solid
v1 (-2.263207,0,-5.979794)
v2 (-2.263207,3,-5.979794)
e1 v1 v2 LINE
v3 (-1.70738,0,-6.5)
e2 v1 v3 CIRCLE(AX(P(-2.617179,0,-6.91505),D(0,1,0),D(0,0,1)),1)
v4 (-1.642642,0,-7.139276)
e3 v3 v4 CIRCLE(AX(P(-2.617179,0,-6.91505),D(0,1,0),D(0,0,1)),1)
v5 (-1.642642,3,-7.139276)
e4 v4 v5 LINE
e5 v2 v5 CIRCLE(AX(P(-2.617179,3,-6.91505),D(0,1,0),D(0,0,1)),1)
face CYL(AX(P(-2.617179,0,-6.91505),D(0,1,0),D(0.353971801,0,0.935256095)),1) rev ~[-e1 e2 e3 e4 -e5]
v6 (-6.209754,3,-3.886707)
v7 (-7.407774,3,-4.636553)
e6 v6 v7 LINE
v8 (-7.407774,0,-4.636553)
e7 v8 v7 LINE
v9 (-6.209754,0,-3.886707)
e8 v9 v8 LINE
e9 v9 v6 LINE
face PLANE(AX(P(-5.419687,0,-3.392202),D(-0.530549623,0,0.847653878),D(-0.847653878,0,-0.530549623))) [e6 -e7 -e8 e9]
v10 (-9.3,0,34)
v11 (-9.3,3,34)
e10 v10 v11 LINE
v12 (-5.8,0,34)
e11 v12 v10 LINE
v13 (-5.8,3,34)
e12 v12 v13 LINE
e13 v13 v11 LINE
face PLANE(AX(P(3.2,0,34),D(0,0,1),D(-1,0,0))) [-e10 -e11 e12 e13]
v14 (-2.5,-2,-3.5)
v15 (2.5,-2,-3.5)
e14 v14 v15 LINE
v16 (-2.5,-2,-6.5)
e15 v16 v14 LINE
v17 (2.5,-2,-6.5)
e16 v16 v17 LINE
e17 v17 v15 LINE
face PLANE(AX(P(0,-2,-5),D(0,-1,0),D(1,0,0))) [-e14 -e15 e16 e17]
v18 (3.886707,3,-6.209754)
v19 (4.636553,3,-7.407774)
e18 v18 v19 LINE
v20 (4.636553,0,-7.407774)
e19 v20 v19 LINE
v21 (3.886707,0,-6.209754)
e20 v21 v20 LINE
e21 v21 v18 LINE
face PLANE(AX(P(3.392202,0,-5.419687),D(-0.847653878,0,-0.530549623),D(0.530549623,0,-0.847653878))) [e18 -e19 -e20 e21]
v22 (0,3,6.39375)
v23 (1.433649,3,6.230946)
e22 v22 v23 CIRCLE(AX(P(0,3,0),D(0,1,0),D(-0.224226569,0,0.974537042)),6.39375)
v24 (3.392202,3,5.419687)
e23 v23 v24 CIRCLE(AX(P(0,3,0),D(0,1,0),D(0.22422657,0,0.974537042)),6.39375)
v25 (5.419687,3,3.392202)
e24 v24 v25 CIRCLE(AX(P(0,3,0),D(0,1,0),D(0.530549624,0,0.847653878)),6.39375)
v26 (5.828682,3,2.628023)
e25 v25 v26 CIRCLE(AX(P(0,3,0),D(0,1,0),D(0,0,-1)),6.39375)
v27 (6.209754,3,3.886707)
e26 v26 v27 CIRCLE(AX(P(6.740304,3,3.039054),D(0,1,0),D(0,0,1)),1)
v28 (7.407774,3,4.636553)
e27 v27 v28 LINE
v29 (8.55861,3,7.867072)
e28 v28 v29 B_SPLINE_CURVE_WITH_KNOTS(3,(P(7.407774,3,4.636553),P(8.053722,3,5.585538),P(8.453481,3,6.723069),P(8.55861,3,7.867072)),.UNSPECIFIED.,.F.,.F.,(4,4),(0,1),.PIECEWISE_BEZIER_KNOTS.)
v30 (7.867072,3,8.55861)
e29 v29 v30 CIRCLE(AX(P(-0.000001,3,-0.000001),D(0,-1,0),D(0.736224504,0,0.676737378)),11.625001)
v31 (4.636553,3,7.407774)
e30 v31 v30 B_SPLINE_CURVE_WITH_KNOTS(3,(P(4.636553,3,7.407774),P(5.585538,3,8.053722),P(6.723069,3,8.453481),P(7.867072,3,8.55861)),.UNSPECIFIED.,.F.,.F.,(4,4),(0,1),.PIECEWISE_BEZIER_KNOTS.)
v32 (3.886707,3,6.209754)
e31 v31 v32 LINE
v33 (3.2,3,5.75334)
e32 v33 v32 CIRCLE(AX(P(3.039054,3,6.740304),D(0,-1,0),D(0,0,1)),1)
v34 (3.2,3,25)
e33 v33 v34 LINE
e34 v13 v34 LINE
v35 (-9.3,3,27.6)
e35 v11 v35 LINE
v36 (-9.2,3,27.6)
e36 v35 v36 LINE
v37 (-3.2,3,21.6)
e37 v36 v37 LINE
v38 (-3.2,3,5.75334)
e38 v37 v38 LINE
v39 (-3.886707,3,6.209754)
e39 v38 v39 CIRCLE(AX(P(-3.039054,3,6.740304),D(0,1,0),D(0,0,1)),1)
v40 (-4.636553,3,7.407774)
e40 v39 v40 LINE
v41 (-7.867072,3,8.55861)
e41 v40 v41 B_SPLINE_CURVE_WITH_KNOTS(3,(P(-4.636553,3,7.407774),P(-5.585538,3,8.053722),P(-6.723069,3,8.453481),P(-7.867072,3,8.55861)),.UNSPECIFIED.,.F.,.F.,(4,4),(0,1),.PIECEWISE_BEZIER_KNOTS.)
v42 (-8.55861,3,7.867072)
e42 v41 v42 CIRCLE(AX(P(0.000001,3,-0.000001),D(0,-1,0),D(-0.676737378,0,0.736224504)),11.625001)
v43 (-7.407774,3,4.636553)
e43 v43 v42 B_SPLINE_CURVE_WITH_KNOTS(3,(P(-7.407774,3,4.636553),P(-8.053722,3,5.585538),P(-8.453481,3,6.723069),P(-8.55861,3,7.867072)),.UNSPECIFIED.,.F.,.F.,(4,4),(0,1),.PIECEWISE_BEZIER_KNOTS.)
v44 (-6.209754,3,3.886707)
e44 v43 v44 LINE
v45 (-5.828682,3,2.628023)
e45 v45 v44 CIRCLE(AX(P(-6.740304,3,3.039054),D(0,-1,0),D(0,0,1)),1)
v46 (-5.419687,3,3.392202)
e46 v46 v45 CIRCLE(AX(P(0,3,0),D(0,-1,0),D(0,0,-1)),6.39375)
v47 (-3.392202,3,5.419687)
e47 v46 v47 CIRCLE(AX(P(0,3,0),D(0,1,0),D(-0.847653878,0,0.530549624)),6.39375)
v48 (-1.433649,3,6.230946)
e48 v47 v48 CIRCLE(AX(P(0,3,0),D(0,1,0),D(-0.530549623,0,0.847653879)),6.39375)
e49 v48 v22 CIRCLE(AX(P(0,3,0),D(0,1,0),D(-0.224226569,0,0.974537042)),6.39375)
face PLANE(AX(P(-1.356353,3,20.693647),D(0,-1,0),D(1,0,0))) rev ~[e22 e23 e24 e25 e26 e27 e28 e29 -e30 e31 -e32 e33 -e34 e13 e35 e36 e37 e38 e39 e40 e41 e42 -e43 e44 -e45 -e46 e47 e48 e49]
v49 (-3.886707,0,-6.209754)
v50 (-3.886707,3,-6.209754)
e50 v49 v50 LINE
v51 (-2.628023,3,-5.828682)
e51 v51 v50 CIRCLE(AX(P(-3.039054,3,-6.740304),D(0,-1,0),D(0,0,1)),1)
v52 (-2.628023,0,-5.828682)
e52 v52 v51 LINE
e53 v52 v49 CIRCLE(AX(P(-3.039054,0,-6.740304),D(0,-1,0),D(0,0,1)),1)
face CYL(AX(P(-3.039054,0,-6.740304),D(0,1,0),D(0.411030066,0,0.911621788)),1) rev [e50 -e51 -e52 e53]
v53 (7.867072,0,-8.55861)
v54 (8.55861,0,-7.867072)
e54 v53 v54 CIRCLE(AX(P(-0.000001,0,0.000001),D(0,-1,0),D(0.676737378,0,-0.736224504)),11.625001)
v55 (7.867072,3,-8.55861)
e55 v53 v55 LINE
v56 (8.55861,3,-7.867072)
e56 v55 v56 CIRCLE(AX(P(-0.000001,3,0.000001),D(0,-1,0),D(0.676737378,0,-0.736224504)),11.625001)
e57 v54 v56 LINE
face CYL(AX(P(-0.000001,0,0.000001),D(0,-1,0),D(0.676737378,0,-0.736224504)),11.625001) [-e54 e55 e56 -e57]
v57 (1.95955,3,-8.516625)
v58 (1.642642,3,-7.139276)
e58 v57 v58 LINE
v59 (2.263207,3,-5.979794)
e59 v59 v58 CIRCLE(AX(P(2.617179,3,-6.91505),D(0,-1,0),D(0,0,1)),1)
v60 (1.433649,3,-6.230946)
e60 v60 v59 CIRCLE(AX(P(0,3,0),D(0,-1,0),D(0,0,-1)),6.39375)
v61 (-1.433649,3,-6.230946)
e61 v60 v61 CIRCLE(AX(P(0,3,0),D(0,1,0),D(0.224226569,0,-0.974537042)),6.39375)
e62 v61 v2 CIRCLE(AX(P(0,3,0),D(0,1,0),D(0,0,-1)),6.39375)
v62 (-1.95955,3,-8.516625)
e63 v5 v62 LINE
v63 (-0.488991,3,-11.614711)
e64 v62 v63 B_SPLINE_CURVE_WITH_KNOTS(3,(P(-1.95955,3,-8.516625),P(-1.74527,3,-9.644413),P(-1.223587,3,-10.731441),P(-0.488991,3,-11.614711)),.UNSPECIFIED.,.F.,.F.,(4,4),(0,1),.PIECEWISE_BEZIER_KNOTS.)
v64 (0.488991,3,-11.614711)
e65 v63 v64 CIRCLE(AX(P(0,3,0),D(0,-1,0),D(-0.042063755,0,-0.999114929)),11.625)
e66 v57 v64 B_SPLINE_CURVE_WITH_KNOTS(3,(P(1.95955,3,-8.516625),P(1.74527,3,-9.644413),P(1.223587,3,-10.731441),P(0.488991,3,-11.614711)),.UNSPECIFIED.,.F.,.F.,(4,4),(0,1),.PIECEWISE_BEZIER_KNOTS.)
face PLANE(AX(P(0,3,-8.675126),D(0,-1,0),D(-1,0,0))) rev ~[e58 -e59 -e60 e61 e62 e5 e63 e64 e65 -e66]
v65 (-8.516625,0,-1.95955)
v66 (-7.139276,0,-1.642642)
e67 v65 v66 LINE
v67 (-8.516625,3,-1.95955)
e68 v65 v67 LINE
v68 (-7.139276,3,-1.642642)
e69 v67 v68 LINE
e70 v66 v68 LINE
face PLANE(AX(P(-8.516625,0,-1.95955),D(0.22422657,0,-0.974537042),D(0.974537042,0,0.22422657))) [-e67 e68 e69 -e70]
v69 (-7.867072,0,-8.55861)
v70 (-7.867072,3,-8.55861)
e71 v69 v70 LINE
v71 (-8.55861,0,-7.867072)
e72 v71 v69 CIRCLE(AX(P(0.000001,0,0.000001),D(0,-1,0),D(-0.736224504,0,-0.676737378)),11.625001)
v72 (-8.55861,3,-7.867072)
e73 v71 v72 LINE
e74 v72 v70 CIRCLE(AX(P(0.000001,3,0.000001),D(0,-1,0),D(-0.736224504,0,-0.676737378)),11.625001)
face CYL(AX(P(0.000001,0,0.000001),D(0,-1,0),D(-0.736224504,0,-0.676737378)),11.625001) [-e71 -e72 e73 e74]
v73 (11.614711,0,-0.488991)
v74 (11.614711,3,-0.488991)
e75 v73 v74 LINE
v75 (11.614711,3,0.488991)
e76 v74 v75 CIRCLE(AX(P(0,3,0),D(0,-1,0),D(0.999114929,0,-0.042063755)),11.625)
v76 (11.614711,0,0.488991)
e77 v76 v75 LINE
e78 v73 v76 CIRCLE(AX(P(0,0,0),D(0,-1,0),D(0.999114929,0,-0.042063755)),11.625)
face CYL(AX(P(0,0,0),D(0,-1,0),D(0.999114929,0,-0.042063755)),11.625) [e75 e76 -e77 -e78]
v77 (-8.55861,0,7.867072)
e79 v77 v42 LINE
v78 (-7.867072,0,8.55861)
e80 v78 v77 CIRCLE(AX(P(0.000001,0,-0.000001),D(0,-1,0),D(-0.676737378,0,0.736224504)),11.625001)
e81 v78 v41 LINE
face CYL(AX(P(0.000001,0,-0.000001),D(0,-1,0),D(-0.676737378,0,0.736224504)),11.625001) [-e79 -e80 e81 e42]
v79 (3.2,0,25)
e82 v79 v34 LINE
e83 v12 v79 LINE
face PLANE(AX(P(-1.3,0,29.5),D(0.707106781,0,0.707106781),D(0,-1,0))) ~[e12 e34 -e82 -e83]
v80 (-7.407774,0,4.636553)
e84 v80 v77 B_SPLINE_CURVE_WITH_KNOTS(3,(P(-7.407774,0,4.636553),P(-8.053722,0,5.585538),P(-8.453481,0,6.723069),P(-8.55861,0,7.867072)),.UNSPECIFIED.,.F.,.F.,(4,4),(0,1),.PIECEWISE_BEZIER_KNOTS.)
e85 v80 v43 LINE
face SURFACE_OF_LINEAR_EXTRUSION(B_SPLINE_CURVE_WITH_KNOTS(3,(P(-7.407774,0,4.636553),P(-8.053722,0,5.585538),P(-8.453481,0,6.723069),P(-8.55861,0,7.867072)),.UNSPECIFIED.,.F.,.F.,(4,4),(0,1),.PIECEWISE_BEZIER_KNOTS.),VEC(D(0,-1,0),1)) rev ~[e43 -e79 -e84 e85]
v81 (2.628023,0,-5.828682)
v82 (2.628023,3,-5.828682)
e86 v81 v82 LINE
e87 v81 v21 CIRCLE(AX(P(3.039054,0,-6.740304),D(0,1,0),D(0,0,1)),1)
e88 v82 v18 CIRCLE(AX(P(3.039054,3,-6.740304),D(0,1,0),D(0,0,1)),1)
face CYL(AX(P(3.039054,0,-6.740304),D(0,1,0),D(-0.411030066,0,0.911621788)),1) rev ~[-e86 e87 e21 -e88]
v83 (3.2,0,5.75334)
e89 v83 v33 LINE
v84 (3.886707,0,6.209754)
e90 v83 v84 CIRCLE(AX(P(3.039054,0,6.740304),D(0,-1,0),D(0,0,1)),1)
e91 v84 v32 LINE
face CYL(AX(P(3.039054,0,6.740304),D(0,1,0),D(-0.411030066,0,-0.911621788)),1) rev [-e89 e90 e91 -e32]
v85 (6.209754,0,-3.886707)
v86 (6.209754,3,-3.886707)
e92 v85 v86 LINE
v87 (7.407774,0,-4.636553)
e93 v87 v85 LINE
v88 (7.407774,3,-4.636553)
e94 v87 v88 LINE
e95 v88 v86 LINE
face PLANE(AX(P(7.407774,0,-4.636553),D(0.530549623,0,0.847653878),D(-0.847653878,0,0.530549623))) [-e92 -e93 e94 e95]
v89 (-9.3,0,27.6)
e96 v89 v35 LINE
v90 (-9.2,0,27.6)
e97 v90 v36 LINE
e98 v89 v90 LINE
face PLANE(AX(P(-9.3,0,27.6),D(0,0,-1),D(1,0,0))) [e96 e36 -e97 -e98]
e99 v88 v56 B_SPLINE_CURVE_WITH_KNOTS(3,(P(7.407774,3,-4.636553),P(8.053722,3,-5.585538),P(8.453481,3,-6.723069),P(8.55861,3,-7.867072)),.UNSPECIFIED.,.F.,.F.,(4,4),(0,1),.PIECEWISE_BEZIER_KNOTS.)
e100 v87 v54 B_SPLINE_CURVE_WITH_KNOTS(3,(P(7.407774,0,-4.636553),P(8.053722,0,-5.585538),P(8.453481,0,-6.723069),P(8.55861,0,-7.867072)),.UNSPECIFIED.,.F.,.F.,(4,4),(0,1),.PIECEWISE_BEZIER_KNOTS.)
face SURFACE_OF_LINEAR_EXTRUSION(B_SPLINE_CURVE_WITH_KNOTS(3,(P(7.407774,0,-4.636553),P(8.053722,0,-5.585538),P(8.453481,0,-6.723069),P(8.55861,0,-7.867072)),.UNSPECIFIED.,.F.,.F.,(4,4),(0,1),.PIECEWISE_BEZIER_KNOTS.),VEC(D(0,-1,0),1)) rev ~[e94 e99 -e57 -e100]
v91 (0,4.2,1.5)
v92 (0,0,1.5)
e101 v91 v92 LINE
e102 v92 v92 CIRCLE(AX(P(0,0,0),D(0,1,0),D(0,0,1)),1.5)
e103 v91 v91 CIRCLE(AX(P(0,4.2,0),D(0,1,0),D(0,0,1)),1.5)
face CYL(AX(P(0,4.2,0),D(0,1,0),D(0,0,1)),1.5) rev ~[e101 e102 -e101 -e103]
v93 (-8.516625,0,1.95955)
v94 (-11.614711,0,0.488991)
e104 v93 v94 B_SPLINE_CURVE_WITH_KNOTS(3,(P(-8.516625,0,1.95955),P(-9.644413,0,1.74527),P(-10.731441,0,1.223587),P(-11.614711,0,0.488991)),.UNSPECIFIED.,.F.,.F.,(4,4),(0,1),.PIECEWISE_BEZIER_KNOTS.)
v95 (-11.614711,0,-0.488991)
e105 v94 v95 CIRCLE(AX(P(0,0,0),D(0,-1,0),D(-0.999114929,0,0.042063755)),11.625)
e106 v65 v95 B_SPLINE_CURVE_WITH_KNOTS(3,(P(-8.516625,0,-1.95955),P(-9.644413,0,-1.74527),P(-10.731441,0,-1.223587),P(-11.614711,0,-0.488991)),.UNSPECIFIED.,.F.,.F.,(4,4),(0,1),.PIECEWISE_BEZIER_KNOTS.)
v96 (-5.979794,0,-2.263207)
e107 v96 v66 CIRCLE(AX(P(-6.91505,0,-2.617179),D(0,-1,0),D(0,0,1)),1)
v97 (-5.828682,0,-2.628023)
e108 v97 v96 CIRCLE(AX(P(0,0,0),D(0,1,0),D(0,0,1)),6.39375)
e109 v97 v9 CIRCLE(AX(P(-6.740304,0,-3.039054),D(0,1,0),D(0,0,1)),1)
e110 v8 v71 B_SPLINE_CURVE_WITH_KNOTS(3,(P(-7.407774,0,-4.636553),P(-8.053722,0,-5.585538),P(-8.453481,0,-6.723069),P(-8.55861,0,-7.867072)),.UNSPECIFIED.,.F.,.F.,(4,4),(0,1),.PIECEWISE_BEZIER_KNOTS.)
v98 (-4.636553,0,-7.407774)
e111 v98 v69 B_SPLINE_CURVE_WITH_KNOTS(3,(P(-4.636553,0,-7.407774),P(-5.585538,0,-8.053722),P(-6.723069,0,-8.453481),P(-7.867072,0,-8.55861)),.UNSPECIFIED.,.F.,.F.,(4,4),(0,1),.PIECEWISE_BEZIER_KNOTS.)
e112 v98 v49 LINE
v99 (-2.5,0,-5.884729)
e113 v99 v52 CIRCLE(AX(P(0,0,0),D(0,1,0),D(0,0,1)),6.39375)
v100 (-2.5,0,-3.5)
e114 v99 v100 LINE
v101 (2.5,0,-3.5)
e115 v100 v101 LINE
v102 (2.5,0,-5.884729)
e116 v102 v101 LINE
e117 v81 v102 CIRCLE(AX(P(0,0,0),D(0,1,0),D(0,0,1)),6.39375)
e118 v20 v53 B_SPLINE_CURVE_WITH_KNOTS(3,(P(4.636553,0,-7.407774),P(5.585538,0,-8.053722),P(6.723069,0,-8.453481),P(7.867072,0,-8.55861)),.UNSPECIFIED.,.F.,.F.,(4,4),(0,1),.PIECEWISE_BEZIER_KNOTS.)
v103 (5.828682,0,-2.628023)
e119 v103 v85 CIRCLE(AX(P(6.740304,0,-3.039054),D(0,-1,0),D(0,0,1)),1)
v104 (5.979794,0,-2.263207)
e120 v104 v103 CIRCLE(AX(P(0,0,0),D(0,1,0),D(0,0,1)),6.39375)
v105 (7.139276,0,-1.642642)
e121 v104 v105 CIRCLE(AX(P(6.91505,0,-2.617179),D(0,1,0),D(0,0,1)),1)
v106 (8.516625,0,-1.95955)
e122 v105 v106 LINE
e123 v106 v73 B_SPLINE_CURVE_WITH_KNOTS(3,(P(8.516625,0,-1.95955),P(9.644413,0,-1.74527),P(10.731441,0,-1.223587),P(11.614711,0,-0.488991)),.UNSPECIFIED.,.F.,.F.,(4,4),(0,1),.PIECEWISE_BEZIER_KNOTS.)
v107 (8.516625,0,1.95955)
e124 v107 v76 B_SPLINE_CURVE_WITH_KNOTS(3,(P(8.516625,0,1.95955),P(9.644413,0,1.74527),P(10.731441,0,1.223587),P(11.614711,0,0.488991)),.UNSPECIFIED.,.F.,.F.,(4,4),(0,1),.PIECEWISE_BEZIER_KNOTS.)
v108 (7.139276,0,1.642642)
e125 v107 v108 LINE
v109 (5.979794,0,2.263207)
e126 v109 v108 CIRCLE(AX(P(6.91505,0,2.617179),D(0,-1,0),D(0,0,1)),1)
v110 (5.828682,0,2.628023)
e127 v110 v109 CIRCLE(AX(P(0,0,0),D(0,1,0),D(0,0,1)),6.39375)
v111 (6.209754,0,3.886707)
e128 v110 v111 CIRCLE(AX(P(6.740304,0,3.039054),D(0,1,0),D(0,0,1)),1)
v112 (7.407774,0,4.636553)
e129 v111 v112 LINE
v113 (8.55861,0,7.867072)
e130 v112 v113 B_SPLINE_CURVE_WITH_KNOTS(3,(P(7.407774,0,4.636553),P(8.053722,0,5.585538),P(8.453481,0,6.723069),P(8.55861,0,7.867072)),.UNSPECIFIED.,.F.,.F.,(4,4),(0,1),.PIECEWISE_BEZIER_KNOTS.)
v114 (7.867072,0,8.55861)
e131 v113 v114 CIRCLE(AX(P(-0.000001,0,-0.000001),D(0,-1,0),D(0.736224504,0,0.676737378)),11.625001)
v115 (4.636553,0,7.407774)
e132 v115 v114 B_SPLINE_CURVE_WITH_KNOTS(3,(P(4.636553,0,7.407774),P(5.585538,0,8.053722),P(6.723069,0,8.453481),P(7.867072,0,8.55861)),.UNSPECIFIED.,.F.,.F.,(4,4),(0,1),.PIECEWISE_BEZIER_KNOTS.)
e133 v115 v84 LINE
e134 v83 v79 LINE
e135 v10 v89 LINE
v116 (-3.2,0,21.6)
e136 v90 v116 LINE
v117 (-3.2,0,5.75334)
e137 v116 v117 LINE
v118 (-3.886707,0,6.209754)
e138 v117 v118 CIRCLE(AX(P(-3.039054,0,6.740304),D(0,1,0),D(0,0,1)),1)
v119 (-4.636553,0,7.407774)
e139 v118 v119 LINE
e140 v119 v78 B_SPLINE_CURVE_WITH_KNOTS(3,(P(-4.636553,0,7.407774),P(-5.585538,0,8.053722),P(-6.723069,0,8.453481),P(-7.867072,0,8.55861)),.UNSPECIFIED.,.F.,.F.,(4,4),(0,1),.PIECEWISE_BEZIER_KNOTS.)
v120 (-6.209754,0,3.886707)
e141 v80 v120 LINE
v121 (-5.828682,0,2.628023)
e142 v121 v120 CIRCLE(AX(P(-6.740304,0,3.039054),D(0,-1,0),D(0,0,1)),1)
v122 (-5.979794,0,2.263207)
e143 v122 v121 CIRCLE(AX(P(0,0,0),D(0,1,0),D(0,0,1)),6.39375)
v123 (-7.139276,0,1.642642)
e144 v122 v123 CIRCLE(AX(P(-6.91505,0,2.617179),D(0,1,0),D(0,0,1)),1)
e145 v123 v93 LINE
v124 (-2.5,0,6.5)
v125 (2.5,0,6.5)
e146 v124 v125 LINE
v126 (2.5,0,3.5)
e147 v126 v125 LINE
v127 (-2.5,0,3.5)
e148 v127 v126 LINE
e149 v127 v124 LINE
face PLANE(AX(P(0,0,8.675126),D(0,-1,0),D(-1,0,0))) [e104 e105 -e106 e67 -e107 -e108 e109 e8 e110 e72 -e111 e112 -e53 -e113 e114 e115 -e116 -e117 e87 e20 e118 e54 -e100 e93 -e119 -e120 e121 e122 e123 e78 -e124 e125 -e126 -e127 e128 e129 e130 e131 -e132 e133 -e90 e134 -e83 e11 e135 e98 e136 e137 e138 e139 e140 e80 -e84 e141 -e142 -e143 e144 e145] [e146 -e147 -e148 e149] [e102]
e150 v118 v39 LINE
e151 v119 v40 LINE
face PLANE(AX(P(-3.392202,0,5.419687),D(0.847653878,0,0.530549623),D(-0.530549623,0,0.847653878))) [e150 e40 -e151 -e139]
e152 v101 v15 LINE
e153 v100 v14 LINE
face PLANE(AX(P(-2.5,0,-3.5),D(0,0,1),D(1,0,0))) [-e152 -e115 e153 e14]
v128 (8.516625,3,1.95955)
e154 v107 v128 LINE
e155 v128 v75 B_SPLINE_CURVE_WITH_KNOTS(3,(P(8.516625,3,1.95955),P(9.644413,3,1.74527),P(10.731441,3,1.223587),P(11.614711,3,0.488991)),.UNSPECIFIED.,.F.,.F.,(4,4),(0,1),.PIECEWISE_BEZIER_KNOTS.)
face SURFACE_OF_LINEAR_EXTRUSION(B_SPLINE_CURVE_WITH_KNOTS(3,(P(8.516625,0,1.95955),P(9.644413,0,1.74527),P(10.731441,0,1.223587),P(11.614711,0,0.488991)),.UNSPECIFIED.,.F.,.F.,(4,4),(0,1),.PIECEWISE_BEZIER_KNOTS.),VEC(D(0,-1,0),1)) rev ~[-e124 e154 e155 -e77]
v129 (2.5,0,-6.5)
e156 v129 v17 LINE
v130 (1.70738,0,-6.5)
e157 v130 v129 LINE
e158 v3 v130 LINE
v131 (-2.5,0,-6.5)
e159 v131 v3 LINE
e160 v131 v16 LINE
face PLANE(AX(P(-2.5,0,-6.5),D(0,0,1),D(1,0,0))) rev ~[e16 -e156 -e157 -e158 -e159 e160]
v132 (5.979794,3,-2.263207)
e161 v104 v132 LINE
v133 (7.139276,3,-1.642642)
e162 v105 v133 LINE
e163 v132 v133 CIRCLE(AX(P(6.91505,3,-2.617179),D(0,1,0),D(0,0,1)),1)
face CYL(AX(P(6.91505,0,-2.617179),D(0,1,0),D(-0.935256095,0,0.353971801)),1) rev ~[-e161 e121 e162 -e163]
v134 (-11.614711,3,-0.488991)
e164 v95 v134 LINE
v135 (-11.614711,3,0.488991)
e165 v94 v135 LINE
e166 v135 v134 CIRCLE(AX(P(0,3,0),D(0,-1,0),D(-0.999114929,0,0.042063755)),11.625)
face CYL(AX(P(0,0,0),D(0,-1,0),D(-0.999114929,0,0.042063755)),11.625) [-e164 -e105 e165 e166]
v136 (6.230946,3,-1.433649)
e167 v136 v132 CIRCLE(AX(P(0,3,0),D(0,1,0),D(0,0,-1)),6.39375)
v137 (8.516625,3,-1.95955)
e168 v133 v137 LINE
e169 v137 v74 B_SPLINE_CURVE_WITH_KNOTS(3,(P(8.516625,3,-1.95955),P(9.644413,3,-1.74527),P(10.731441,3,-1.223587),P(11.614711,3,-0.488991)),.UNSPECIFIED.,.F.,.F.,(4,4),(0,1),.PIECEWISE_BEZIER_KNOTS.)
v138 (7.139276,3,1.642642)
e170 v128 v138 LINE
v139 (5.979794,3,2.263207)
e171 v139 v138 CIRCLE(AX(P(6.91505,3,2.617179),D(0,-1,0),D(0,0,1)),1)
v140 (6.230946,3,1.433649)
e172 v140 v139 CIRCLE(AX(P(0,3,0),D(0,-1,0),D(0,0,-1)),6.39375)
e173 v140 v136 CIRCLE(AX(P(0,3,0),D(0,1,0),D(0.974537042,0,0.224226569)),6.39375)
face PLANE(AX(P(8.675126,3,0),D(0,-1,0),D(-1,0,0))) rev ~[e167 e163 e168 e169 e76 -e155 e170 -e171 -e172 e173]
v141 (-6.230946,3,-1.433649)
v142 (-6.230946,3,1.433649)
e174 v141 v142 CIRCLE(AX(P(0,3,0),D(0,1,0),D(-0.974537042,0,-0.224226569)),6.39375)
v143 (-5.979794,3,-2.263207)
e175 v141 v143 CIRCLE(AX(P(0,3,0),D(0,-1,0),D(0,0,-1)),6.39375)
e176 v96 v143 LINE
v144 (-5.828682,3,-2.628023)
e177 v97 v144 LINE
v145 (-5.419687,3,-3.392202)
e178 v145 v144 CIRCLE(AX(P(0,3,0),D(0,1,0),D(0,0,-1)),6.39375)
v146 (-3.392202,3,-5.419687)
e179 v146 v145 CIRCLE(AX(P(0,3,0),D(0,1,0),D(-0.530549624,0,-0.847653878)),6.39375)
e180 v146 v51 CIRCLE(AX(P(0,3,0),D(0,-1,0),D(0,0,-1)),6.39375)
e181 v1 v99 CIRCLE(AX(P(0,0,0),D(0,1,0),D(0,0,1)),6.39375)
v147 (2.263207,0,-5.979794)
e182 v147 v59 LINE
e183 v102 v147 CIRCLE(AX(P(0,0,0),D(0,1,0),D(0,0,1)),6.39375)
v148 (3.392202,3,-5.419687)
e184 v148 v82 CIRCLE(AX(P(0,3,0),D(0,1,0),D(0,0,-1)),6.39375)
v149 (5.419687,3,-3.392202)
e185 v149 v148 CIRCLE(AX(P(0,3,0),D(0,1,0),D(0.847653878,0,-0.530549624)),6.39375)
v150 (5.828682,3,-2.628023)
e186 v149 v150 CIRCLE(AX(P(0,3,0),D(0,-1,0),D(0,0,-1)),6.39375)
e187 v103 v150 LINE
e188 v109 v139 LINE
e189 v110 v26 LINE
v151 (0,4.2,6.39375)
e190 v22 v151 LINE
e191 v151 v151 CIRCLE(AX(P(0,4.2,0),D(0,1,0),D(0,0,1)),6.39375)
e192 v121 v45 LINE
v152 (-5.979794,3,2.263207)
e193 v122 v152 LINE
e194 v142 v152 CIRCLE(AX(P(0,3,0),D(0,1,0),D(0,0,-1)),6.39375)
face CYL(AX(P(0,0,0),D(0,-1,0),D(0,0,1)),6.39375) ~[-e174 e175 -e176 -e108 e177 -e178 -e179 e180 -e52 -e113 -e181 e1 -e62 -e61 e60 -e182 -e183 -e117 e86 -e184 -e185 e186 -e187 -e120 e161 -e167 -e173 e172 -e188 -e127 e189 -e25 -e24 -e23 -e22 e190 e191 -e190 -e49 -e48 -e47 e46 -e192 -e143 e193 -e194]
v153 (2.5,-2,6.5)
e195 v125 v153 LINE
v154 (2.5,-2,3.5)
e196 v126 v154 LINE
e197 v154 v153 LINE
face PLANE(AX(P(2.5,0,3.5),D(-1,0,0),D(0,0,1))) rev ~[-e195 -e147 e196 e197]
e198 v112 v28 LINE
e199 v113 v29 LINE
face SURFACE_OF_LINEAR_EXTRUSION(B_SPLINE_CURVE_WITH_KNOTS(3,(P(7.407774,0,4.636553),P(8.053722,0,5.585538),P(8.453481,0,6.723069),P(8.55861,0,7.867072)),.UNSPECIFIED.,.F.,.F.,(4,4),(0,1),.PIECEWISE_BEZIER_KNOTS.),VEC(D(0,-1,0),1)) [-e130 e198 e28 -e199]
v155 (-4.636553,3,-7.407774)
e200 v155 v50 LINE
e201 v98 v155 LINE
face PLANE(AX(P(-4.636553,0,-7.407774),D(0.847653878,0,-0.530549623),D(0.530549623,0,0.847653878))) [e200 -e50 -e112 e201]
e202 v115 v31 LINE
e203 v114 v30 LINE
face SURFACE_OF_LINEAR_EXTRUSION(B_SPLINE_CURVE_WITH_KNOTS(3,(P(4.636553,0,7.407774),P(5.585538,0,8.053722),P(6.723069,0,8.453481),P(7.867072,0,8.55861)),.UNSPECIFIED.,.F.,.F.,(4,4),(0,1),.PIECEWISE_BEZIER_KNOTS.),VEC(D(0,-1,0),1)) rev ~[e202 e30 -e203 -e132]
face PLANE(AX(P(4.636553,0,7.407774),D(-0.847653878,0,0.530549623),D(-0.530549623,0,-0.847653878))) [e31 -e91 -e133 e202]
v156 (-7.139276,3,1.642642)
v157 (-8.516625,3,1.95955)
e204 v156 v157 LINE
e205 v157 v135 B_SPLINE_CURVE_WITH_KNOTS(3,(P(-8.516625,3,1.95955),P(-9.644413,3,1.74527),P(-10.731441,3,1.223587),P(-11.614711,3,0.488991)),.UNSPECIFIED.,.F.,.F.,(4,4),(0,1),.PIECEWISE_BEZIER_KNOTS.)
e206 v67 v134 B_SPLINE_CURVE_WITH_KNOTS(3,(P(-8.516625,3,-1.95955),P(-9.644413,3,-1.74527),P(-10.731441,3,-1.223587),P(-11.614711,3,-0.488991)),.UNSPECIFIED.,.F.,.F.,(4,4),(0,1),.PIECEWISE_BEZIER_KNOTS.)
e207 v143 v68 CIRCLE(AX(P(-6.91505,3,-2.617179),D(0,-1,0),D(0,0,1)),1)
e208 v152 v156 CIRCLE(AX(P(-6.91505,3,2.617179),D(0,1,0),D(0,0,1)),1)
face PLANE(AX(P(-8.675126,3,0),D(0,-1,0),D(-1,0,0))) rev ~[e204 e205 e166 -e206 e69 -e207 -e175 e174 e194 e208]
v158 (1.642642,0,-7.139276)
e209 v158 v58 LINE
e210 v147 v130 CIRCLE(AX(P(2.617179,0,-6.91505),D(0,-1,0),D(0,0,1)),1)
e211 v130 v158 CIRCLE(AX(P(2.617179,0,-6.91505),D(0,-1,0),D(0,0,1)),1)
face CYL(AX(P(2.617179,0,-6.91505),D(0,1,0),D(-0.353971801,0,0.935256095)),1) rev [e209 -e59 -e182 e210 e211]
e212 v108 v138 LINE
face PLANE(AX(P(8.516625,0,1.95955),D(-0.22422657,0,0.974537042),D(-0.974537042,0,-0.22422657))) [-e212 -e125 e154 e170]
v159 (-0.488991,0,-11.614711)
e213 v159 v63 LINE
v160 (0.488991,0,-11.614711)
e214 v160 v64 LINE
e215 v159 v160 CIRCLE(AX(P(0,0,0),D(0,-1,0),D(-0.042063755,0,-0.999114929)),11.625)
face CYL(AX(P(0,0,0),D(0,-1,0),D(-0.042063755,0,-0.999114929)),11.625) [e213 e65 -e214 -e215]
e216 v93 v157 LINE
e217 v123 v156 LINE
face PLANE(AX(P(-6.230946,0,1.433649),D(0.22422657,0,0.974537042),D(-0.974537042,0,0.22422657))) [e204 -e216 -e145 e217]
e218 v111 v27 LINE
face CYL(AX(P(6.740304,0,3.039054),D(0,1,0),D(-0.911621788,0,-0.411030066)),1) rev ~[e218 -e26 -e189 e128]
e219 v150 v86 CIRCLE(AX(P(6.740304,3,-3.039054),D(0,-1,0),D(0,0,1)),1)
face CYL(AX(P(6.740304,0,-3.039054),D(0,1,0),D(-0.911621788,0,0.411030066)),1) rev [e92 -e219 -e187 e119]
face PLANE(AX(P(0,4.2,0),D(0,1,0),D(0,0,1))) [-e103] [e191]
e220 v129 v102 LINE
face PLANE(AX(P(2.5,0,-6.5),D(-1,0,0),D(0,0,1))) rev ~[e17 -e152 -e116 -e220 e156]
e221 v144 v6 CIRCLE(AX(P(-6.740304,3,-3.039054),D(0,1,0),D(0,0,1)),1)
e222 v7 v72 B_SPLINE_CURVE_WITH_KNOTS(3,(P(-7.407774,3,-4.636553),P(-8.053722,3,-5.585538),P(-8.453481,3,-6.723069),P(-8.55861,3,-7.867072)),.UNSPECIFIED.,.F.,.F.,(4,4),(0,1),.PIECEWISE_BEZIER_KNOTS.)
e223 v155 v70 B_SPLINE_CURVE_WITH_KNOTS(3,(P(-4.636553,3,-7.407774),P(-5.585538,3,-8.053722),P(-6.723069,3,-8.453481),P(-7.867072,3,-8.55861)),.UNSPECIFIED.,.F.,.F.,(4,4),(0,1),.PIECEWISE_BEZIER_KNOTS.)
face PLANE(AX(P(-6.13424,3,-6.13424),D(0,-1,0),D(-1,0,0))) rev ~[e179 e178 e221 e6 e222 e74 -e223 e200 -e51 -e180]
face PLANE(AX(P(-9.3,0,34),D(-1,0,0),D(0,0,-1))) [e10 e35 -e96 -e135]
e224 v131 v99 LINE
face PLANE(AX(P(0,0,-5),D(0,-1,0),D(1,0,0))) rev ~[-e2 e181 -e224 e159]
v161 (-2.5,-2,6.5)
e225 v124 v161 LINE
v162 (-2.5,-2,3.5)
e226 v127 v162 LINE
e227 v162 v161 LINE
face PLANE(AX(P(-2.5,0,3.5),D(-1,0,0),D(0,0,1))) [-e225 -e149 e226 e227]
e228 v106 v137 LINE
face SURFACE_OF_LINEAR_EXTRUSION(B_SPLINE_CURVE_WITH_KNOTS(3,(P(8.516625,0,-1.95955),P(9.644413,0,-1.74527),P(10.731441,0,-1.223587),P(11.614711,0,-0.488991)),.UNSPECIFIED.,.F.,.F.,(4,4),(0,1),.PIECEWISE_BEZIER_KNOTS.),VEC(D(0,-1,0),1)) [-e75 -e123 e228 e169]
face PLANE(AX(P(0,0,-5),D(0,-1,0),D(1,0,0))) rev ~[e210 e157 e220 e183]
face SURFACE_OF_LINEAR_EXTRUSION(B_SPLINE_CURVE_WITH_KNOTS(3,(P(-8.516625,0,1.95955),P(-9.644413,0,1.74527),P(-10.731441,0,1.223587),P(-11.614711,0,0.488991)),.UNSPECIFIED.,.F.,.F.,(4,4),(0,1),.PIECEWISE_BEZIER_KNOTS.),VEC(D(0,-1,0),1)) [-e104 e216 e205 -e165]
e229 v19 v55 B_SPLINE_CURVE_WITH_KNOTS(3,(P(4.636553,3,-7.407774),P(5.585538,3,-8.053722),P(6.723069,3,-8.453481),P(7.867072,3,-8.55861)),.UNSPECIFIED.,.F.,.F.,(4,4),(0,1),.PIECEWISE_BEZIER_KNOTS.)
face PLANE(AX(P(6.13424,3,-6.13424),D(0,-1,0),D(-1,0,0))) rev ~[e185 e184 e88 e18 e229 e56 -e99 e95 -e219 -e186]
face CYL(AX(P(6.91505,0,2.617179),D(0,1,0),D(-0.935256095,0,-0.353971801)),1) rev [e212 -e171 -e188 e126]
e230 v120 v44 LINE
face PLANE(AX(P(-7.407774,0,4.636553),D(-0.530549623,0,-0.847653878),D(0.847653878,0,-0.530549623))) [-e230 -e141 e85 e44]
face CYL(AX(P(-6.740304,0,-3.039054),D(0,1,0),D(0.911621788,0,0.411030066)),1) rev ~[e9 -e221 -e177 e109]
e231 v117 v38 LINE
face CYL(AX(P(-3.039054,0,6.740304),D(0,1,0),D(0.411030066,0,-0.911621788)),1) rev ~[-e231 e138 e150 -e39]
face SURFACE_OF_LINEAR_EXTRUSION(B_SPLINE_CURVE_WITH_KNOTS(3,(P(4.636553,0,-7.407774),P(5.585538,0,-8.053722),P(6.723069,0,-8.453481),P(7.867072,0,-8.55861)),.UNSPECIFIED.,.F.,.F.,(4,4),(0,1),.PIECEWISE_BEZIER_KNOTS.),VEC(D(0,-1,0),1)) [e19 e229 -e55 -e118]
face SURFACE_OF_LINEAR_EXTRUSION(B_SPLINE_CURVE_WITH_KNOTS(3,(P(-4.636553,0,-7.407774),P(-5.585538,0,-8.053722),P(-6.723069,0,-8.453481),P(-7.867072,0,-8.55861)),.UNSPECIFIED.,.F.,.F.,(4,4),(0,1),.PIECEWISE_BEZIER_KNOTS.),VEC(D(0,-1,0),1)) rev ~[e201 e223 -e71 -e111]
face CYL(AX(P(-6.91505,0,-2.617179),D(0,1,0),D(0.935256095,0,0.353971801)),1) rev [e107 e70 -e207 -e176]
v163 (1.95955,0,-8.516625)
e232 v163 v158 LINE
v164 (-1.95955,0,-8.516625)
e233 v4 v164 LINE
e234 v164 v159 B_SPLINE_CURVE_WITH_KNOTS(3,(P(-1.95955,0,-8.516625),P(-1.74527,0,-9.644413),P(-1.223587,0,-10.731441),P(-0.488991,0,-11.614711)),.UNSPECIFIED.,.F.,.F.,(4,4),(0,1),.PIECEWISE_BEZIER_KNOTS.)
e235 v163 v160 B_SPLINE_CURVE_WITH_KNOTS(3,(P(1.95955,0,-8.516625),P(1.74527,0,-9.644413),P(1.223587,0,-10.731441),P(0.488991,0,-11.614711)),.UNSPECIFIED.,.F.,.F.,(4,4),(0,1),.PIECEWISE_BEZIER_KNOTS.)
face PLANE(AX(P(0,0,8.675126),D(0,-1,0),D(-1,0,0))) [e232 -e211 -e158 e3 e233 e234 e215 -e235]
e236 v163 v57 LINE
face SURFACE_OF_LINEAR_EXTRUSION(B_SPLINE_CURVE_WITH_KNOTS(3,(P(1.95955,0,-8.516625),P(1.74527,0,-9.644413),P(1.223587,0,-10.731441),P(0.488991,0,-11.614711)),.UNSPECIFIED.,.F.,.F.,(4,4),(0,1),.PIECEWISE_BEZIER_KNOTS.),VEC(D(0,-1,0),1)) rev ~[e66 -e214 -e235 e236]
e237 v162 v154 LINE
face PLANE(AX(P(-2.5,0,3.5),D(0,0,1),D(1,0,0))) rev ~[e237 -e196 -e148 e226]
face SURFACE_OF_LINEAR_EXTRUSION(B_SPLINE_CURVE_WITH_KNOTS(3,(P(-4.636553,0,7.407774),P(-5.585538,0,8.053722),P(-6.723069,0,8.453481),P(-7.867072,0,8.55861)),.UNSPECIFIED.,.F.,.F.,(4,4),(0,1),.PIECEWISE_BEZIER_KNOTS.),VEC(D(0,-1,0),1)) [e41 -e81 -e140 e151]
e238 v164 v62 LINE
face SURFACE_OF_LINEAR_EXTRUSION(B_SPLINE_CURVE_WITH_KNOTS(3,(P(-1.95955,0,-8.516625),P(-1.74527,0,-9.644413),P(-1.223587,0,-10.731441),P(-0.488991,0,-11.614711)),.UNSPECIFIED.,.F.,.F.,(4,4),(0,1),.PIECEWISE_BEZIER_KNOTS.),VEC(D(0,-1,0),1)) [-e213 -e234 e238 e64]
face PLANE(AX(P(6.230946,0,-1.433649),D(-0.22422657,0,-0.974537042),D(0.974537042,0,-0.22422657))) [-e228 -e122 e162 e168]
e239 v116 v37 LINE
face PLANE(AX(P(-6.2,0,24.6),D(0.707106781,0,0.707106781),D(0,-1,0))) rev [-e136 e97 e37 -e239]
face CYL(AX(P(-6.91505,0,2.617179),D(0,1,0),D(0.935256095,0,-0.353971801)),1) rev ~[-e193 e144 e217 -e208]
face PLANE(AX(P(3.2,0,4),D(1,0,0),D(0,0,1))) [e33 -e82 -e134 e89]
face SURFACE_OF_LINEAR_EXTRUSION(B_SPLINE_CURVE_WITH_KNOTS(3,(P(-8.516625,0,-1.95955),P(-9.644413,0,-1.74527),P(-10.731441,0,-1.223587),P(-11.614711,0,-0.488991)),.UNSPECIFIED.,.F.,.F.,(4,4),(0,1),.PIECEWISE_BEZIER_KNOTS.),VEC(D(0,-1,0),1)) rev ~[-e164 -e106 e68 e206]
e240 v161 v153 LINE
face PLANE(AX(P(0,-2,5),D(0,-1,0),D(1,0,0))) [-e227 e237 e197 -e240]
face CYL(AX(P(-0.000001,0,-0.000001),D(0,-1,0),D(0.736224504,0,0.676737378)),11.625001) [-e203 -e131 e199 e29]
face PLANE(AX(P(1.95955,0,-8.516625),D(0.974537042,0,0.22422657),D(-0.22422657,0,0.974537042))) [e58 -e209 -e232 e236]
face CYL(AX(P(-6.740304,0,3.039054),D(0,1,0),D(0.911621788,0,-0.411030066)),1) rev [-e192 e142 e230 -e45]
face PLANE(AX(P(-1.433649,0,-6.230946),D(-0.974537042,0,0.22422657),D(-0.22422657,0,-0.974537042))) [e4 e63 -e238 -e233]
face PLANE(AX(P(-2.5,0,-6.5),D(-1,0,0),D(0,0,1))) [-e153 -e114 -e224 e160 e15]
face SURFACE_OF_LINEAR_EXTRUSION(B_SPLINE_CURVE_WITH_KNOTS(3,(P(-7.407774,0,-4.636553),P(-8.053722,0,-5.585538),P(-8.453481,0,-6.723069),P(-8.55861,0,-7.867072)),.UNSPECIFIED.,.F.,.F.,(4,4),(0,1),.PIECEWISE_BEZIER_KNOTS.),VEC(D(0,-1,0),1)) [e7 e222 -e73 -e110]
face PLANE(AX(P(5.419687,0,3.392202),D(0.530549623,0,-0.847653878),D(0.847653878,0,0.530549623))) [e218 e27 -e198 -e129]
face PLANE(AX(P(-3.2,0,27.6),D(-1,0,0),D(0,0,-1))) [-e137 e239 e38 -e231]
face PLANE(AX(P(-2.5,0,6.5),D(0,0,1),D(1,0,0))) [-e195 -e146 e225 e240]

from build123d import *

# Parameters (mm, degrees)
SKETCH1_R           = 6.39375
BOSS_EXTRUDE1_DEPTH = 4.2
BOSS_EXTRUDE2_DEPTH = 3
FILLET1_R           = 1
SKETCH3_R           = 1.5
CUT_EXTRUDE1_DEPTH  = 17.968242557
BOSS_EXTRUDE3_DEPTH = 3
CHAMFER1_SIZE       = 6
CHAMFER2_SIZE       = 9
SKETCH6_W           = 5
SKETCH6_H           = 3
BOSS_EXTRUDE4_DEPTH = 2


with BuildPart() as part:
    # Sketch1 → Boss-Extrude1 (new body)
    with BuildSketch(Plane(origin=(0, 0, 0), x_dir=(1, 0, 0), z_dir=(0, 1, 0))):
        with Locations(Location((0, 0, 0), (0, 0, 270))):
            Circle(SKETCH1_R)
    extrude(amount=BOSS_EXTRUDE1_DEPTH)

    # Sketch2 → Boss-Extrude2 (add)
    with BuildSketch(Plane(origin=(0, 0, 0), x_dir=(1, 0, 0), z_dir=(0, 1, 0))):
        with BuildLine():
            Line((-1.433648629, 6.23094621), (-1.959549626, 8.516625387))
            add(Edge.make_bspline(
                [(-1.959549626, 8.516625387), (-1.745269759, 9.644412797), (-1.223586565, 10.731441367), (-0.488991141, 11.614711045)],
                knots=[0, 0, 0, 0, 1, 1, 1, 1], degree=3))
            ThreePointArc((-0.488991141, 11.614711045), (0, 11.625), (0.488991141, 11.614711045))
            add(Edge.make_bspline(
                [(1.959549626, 8.516625387), (1.745269759, 9.644412797), (1.223586565, 10.731441367), (0.488991141, 11.614711045)],
                knots=[0, 0, 0, 0, 1, 1, 1, 1], degree=3))
            Line((1.959549626, 8.516625387), (1.433648629, 6.23094621))
            ThreePointArc((1.433648629, 6.23094621), (0, 6.39375), (-1.433648629, 6.23094621))
        make_face()
        with BuildLine():
            Line((3.392201651, 5.419686986), (4.636552736, 7.407774392))
            add(Edge.make_bspline(
                [(4.636552736, 7.407774392), (5.585537608, 8.053721771), (6.723068605, 8.45348132), (7.86707199, 8.558609894)],
                knots=[0, 0, 0, 0, 1, 1, 1, 1], degree=3))
            ThreePointArc((7.86707199, 8.558609894), (8.220116331, 8.220116331), (8.558609894, 7.86707199))
            add(Edge.make_bspline(
                [(7.407774392, 4.636552736), (8.053721771, 5.585537608), (8.45348132, 6.723068605), (8.558609894, 7.86707199)],
                knots=[0, 0, 0, 0, 1, 1, 1, 1], degree=3))
            Line((7.407774392, 4.636552736), (5.419686986, 3.392201651))
            ThreePointArc((5.419686986, 3.392201651), (4.521063982, 4.521063982), (3.392201651, 5.419686986))
        make_face()
        with BuildLine():
            Line((6.23094621, 1.433648629), (8.516625387, 1.959549626))
            add(Edge.make_bspline(
                [(8.516625387, 1.959549626), (9.644412797, 1.745269759), (10.731441367, 1.223586565), (11.614711045, 0.488991141)],
                knots=[0, 0, 0, 0, 1, 1, 1, 1], degree=3))
            ThreePointArc((11.614711045, 0.488991141), (11.625, 0), (11.614711045, -0.488991141))
            add(Edge.make_bspline(
                [(8.516625387, -1.959549626), (9.644412797, -1.745269759), (10.731441367, -1.223586565), (11.614711045, -0.488991141)],
                knots=[0, 0, 0, 0, 1, 1, 1, 1], degree=3))
            Line((8.516625387, -1.959549626), (6.23094621, -1.433648629))
            ThreePointArc((6.23094621, -1.433648629), (6.39375, 0), (6.23094621, 1.433648629))
        make_face()
        with BuildLine():
            Line((5.419686986, -3.392201651), (7.407774392, -4.636552736))
            add(Edge.make_bspline(
                [(7.407774392, -4.636552736), (8.053721771, -5.585537608), (8.45348132, -6.723068605), (8.558609894, -7.86707199)],
                knots=[0, 0, 0, 0, 1, 1, 1, 1], degree=3))
            ThreePointArc((8.558609894, -7.86707199), (8.220116331, -8.220116331), (7.86707199, -8.558609894))
            add(Edge.make_bspline(
                [(4.636552736, -7.407774392), (5.585537608, -8.053721771), (6.723068605, -8.45348132), (7.86707199, -8.558609894)],
                knots=[0, 0, 0, 0, 1, 1, 1, 1], degree=3))
            Line((4.636552736, -7.407774392), (3.392201651, -5.419686986))
            ThreePointArc((3.392201651, -5.419686986), (4.521063982, -4.521063982), (5.419686986, -3.392201651))
        make_face()
        with BuildLine():
            Line((1.433648629, -6.23094621), (1.959549626, -8.516625387))
            add(Edge.make_bspline(
                [(1.959549626, -8.516625387), (1.745269759, -9.644412797), (1.223586565, -10.731441367), (0.488991141, -11.614711045)],
                knots=[0, 0, 0, 0, 1, 1, 1, 1], degree=3))
            ThreePointArc((0.488991141, -11.614711045), (0, -11.625), (-0.488991141, -11.614711045))
            add(Edge.make_bspline(
                [(-1.959549626, -8.516625387), (-1.745269759, -9.644412797), (-1.223586565, -10.731441367), (-0.488991141, -11.614711045)],
                knots=[0, 0, 0, 0, 1, 1, 1, 1], degree=3))
            Line((-1.959549626, -8.516625387), (-1.433648629, -6.23094621))
            ThreePointArc((-1.433648629, -6.23094621), (0, -6.39375), (1.433648629, -6.23094621))
        make_face()
        with BuildLine():
            Line((-3.392201651, -5.419686986), (-4.636552736, -7.407774392))
            add(Edge.make_bspline(
                [(-4.636552736, -7.407774392), (-5.585537608, -8.053721771), (-6.723068605, -8.45348132), (-7.86707199, -8.558609894)],
                knots=[0, 0, 0, 0, 1, 1, 1, 1], degree=3))
            ThreePointArc((-7.86707199, -8.558609894), (-8.220116331, -8.220116331), (-8.558609894, -7.86707199))
            add(Edge.make_bspline(
                [(-7.407774392, -4.636552736), (-8.053721771, -5.585537608), (-8.45348132, -6.723068605), (-8.558609894, -7.86707199)],
                knots=[0, 0, 0, 0, 1, 1, 1, 1], degree=3))
            Line((-7.407774392, -4.636552736), (-5.419686986, -3.392201651))
            ThreePointArc((-5.419686986, -3.392201651), (-4.521063982, -4.521063982), (-3.392201651, -5.419686986))
        make_face()
        with BuildLine():
            Line((-6.23094621, -1.433648629), (-8.516625387, -1.959549626))
            add(Edge.make_bspline(
                [(-8.516625387, -1.959549626), (-9.644412797, -1.745269759), (-10.731441367, -1.223586565), (-11.614711045, -0.488991141)],
                knots=[0, 0, 0, 0, 1, 1, 1, 1], degree=3))
            ThreePointArc((-11.614711045, -0.488991141), (-11.625, 0), (-11.614711045, 0.488991141))
            add(Edge.make_bspline(
                [(-8.516625387, 1.959549626), (-9.644412797, 1.745269759), (-10.731441367, 1.223586565), (-11.614711045, 0.488991141)],
                knots=[0, 0, 0, 0, 1, 1, 1, 1], degree=3))
            Line((-8.516625387, 1.959549626), (-6.23094621, 1.433648629))
            ThreePointArc((-6.23094621, 1.433648629), (-6.39375, 0), (-6.23094621, -1.433648629))
        make_face()
        with BuildLine():
            Line((-5.419686986, 3.392201651), (-7.407774392, 4.636552736))
            add(Edge.make_bspline(
                [(-7.407774392, 4.636552736), (-8.053721771, 5.585537608), (-8.45348132, 6.723068605), (-8.558609894, 7.86707199)],
                knots=[0, 0, 0, 0, 1, 1, 1, 1], degree=3))
            ThreePointArc((-8.558609894, 7.86707199), (-8.220116331, 8.220116331), (-7.86707199, 8.558609894))
            add(Edge.make_bspline(
                [(-4.636552736, 7.407774392), (-5.585537608, 8.053721771), (-6.723068605, 8.45348132), (-7.86707199, 8.558609894)],
                knots=[0, 0, 0, 0, 1, 1, 1, 1], degree=3))
            Line((-4.636552736, 7.407774392), (-3.392201651, 5.419686986))
            ThreePointArc((-3.392201651, 5.419686986), (-4.521063982, 4.521063982), (-5.419686986, 3.392201651))
        make_face()
    extrude(amount=BOSS_EXTRUDE2_DEPTH)

    # Fillet1
    fillet1_edges = [part.edges().sort_by_distance(p)[0] for p in [
        (-5.419686986, 1.5, -3.392201651),
        (-3.392201651, 1.5, -5.419686986),
        (3.392201651, 1.5, -5.419686986),
        (5.419686986, 1.5, -3.392201651),
        (6.23094621, 1.5, -1.433648629),
        (6.23094621, 1.5, 1.433648629),
        (5.419686986, 1.5, 3.392201651),
        (3.392201651, 1.5, 5.419686986),
        (1.433648629, 1.5, 6.23094621),
        (-1.433648629, 1.5, 6.23094621),
        (-3.392201651, 1.5, 5.419686986),
        (-5.419686986, 1.5, 3.392201651),
        (-1.433648629, 1.5, -6.23094621),
        (1.433648629, 1.5, -6.23094621),
        (-6.23094621, 1.5, 1.433648629),
        (-6.23094621, 1.5, -1.433648629),
    ]]
    fillet(fillet1_edges, radius=FILLET1_R)

    # Sketch3 → Cut-Extrude1 (cut, through all)
    with BuildSketch(Plane(origin=(0, 4.2, 0), x_dir=(1, 0, 0), z_dir=(0, 1, 0))):
        with Locations(Location((0, 0, 0), (0, 0, 270))):
            Circle(SKETCH3_R)
    extrude(amount=-CUT_EXTRUDE1_DEPTH, mode=Mode.SUBTRACT)

    # Sketch5 → Boss-Extrude3 (add)
    with BuildSketch(Plane.XZ):
        Polygon((-3.2, 4), (3.2, 4), (3.2, 34), (-9.3, 34), (-9.3, 27.6), (-3.2, 27.6), align=None)
    extrude(amount=-BOSS_EXTRUDE3_DEPTH)

    # Chamfer1
    chamfer1_edges = [part.edges().sort_by_distance(p)[0] for p in [
        (-3.2, 1.5, 27.6),
    ]]
    chamfer(chamfer1_edges, length=CHAMFER1_SIZE)

    # Chamfer2
    chamfer2_edges = [part.edges().sort_by_distance(p)[0] for p in [
        (3.2, 1.5, 34),
    ]]
    chamfer(chamfer2_edges, length=CHAMFER2_SIZE)

    # Sketch6 → Boss-Extrude4 (add)
    with BuildSketch(Plane.XZ):
        with Locations((0, -5)):
            Rectangle(SKETCH6_W, SKETCH6_H)
        with Locations((0, 5)):
            Rectangle(SKETCH6_W, SKETCH6_H)
    extrude(amount=BOSS_EXTRUDE4_DEPTH)


solid = part.part
